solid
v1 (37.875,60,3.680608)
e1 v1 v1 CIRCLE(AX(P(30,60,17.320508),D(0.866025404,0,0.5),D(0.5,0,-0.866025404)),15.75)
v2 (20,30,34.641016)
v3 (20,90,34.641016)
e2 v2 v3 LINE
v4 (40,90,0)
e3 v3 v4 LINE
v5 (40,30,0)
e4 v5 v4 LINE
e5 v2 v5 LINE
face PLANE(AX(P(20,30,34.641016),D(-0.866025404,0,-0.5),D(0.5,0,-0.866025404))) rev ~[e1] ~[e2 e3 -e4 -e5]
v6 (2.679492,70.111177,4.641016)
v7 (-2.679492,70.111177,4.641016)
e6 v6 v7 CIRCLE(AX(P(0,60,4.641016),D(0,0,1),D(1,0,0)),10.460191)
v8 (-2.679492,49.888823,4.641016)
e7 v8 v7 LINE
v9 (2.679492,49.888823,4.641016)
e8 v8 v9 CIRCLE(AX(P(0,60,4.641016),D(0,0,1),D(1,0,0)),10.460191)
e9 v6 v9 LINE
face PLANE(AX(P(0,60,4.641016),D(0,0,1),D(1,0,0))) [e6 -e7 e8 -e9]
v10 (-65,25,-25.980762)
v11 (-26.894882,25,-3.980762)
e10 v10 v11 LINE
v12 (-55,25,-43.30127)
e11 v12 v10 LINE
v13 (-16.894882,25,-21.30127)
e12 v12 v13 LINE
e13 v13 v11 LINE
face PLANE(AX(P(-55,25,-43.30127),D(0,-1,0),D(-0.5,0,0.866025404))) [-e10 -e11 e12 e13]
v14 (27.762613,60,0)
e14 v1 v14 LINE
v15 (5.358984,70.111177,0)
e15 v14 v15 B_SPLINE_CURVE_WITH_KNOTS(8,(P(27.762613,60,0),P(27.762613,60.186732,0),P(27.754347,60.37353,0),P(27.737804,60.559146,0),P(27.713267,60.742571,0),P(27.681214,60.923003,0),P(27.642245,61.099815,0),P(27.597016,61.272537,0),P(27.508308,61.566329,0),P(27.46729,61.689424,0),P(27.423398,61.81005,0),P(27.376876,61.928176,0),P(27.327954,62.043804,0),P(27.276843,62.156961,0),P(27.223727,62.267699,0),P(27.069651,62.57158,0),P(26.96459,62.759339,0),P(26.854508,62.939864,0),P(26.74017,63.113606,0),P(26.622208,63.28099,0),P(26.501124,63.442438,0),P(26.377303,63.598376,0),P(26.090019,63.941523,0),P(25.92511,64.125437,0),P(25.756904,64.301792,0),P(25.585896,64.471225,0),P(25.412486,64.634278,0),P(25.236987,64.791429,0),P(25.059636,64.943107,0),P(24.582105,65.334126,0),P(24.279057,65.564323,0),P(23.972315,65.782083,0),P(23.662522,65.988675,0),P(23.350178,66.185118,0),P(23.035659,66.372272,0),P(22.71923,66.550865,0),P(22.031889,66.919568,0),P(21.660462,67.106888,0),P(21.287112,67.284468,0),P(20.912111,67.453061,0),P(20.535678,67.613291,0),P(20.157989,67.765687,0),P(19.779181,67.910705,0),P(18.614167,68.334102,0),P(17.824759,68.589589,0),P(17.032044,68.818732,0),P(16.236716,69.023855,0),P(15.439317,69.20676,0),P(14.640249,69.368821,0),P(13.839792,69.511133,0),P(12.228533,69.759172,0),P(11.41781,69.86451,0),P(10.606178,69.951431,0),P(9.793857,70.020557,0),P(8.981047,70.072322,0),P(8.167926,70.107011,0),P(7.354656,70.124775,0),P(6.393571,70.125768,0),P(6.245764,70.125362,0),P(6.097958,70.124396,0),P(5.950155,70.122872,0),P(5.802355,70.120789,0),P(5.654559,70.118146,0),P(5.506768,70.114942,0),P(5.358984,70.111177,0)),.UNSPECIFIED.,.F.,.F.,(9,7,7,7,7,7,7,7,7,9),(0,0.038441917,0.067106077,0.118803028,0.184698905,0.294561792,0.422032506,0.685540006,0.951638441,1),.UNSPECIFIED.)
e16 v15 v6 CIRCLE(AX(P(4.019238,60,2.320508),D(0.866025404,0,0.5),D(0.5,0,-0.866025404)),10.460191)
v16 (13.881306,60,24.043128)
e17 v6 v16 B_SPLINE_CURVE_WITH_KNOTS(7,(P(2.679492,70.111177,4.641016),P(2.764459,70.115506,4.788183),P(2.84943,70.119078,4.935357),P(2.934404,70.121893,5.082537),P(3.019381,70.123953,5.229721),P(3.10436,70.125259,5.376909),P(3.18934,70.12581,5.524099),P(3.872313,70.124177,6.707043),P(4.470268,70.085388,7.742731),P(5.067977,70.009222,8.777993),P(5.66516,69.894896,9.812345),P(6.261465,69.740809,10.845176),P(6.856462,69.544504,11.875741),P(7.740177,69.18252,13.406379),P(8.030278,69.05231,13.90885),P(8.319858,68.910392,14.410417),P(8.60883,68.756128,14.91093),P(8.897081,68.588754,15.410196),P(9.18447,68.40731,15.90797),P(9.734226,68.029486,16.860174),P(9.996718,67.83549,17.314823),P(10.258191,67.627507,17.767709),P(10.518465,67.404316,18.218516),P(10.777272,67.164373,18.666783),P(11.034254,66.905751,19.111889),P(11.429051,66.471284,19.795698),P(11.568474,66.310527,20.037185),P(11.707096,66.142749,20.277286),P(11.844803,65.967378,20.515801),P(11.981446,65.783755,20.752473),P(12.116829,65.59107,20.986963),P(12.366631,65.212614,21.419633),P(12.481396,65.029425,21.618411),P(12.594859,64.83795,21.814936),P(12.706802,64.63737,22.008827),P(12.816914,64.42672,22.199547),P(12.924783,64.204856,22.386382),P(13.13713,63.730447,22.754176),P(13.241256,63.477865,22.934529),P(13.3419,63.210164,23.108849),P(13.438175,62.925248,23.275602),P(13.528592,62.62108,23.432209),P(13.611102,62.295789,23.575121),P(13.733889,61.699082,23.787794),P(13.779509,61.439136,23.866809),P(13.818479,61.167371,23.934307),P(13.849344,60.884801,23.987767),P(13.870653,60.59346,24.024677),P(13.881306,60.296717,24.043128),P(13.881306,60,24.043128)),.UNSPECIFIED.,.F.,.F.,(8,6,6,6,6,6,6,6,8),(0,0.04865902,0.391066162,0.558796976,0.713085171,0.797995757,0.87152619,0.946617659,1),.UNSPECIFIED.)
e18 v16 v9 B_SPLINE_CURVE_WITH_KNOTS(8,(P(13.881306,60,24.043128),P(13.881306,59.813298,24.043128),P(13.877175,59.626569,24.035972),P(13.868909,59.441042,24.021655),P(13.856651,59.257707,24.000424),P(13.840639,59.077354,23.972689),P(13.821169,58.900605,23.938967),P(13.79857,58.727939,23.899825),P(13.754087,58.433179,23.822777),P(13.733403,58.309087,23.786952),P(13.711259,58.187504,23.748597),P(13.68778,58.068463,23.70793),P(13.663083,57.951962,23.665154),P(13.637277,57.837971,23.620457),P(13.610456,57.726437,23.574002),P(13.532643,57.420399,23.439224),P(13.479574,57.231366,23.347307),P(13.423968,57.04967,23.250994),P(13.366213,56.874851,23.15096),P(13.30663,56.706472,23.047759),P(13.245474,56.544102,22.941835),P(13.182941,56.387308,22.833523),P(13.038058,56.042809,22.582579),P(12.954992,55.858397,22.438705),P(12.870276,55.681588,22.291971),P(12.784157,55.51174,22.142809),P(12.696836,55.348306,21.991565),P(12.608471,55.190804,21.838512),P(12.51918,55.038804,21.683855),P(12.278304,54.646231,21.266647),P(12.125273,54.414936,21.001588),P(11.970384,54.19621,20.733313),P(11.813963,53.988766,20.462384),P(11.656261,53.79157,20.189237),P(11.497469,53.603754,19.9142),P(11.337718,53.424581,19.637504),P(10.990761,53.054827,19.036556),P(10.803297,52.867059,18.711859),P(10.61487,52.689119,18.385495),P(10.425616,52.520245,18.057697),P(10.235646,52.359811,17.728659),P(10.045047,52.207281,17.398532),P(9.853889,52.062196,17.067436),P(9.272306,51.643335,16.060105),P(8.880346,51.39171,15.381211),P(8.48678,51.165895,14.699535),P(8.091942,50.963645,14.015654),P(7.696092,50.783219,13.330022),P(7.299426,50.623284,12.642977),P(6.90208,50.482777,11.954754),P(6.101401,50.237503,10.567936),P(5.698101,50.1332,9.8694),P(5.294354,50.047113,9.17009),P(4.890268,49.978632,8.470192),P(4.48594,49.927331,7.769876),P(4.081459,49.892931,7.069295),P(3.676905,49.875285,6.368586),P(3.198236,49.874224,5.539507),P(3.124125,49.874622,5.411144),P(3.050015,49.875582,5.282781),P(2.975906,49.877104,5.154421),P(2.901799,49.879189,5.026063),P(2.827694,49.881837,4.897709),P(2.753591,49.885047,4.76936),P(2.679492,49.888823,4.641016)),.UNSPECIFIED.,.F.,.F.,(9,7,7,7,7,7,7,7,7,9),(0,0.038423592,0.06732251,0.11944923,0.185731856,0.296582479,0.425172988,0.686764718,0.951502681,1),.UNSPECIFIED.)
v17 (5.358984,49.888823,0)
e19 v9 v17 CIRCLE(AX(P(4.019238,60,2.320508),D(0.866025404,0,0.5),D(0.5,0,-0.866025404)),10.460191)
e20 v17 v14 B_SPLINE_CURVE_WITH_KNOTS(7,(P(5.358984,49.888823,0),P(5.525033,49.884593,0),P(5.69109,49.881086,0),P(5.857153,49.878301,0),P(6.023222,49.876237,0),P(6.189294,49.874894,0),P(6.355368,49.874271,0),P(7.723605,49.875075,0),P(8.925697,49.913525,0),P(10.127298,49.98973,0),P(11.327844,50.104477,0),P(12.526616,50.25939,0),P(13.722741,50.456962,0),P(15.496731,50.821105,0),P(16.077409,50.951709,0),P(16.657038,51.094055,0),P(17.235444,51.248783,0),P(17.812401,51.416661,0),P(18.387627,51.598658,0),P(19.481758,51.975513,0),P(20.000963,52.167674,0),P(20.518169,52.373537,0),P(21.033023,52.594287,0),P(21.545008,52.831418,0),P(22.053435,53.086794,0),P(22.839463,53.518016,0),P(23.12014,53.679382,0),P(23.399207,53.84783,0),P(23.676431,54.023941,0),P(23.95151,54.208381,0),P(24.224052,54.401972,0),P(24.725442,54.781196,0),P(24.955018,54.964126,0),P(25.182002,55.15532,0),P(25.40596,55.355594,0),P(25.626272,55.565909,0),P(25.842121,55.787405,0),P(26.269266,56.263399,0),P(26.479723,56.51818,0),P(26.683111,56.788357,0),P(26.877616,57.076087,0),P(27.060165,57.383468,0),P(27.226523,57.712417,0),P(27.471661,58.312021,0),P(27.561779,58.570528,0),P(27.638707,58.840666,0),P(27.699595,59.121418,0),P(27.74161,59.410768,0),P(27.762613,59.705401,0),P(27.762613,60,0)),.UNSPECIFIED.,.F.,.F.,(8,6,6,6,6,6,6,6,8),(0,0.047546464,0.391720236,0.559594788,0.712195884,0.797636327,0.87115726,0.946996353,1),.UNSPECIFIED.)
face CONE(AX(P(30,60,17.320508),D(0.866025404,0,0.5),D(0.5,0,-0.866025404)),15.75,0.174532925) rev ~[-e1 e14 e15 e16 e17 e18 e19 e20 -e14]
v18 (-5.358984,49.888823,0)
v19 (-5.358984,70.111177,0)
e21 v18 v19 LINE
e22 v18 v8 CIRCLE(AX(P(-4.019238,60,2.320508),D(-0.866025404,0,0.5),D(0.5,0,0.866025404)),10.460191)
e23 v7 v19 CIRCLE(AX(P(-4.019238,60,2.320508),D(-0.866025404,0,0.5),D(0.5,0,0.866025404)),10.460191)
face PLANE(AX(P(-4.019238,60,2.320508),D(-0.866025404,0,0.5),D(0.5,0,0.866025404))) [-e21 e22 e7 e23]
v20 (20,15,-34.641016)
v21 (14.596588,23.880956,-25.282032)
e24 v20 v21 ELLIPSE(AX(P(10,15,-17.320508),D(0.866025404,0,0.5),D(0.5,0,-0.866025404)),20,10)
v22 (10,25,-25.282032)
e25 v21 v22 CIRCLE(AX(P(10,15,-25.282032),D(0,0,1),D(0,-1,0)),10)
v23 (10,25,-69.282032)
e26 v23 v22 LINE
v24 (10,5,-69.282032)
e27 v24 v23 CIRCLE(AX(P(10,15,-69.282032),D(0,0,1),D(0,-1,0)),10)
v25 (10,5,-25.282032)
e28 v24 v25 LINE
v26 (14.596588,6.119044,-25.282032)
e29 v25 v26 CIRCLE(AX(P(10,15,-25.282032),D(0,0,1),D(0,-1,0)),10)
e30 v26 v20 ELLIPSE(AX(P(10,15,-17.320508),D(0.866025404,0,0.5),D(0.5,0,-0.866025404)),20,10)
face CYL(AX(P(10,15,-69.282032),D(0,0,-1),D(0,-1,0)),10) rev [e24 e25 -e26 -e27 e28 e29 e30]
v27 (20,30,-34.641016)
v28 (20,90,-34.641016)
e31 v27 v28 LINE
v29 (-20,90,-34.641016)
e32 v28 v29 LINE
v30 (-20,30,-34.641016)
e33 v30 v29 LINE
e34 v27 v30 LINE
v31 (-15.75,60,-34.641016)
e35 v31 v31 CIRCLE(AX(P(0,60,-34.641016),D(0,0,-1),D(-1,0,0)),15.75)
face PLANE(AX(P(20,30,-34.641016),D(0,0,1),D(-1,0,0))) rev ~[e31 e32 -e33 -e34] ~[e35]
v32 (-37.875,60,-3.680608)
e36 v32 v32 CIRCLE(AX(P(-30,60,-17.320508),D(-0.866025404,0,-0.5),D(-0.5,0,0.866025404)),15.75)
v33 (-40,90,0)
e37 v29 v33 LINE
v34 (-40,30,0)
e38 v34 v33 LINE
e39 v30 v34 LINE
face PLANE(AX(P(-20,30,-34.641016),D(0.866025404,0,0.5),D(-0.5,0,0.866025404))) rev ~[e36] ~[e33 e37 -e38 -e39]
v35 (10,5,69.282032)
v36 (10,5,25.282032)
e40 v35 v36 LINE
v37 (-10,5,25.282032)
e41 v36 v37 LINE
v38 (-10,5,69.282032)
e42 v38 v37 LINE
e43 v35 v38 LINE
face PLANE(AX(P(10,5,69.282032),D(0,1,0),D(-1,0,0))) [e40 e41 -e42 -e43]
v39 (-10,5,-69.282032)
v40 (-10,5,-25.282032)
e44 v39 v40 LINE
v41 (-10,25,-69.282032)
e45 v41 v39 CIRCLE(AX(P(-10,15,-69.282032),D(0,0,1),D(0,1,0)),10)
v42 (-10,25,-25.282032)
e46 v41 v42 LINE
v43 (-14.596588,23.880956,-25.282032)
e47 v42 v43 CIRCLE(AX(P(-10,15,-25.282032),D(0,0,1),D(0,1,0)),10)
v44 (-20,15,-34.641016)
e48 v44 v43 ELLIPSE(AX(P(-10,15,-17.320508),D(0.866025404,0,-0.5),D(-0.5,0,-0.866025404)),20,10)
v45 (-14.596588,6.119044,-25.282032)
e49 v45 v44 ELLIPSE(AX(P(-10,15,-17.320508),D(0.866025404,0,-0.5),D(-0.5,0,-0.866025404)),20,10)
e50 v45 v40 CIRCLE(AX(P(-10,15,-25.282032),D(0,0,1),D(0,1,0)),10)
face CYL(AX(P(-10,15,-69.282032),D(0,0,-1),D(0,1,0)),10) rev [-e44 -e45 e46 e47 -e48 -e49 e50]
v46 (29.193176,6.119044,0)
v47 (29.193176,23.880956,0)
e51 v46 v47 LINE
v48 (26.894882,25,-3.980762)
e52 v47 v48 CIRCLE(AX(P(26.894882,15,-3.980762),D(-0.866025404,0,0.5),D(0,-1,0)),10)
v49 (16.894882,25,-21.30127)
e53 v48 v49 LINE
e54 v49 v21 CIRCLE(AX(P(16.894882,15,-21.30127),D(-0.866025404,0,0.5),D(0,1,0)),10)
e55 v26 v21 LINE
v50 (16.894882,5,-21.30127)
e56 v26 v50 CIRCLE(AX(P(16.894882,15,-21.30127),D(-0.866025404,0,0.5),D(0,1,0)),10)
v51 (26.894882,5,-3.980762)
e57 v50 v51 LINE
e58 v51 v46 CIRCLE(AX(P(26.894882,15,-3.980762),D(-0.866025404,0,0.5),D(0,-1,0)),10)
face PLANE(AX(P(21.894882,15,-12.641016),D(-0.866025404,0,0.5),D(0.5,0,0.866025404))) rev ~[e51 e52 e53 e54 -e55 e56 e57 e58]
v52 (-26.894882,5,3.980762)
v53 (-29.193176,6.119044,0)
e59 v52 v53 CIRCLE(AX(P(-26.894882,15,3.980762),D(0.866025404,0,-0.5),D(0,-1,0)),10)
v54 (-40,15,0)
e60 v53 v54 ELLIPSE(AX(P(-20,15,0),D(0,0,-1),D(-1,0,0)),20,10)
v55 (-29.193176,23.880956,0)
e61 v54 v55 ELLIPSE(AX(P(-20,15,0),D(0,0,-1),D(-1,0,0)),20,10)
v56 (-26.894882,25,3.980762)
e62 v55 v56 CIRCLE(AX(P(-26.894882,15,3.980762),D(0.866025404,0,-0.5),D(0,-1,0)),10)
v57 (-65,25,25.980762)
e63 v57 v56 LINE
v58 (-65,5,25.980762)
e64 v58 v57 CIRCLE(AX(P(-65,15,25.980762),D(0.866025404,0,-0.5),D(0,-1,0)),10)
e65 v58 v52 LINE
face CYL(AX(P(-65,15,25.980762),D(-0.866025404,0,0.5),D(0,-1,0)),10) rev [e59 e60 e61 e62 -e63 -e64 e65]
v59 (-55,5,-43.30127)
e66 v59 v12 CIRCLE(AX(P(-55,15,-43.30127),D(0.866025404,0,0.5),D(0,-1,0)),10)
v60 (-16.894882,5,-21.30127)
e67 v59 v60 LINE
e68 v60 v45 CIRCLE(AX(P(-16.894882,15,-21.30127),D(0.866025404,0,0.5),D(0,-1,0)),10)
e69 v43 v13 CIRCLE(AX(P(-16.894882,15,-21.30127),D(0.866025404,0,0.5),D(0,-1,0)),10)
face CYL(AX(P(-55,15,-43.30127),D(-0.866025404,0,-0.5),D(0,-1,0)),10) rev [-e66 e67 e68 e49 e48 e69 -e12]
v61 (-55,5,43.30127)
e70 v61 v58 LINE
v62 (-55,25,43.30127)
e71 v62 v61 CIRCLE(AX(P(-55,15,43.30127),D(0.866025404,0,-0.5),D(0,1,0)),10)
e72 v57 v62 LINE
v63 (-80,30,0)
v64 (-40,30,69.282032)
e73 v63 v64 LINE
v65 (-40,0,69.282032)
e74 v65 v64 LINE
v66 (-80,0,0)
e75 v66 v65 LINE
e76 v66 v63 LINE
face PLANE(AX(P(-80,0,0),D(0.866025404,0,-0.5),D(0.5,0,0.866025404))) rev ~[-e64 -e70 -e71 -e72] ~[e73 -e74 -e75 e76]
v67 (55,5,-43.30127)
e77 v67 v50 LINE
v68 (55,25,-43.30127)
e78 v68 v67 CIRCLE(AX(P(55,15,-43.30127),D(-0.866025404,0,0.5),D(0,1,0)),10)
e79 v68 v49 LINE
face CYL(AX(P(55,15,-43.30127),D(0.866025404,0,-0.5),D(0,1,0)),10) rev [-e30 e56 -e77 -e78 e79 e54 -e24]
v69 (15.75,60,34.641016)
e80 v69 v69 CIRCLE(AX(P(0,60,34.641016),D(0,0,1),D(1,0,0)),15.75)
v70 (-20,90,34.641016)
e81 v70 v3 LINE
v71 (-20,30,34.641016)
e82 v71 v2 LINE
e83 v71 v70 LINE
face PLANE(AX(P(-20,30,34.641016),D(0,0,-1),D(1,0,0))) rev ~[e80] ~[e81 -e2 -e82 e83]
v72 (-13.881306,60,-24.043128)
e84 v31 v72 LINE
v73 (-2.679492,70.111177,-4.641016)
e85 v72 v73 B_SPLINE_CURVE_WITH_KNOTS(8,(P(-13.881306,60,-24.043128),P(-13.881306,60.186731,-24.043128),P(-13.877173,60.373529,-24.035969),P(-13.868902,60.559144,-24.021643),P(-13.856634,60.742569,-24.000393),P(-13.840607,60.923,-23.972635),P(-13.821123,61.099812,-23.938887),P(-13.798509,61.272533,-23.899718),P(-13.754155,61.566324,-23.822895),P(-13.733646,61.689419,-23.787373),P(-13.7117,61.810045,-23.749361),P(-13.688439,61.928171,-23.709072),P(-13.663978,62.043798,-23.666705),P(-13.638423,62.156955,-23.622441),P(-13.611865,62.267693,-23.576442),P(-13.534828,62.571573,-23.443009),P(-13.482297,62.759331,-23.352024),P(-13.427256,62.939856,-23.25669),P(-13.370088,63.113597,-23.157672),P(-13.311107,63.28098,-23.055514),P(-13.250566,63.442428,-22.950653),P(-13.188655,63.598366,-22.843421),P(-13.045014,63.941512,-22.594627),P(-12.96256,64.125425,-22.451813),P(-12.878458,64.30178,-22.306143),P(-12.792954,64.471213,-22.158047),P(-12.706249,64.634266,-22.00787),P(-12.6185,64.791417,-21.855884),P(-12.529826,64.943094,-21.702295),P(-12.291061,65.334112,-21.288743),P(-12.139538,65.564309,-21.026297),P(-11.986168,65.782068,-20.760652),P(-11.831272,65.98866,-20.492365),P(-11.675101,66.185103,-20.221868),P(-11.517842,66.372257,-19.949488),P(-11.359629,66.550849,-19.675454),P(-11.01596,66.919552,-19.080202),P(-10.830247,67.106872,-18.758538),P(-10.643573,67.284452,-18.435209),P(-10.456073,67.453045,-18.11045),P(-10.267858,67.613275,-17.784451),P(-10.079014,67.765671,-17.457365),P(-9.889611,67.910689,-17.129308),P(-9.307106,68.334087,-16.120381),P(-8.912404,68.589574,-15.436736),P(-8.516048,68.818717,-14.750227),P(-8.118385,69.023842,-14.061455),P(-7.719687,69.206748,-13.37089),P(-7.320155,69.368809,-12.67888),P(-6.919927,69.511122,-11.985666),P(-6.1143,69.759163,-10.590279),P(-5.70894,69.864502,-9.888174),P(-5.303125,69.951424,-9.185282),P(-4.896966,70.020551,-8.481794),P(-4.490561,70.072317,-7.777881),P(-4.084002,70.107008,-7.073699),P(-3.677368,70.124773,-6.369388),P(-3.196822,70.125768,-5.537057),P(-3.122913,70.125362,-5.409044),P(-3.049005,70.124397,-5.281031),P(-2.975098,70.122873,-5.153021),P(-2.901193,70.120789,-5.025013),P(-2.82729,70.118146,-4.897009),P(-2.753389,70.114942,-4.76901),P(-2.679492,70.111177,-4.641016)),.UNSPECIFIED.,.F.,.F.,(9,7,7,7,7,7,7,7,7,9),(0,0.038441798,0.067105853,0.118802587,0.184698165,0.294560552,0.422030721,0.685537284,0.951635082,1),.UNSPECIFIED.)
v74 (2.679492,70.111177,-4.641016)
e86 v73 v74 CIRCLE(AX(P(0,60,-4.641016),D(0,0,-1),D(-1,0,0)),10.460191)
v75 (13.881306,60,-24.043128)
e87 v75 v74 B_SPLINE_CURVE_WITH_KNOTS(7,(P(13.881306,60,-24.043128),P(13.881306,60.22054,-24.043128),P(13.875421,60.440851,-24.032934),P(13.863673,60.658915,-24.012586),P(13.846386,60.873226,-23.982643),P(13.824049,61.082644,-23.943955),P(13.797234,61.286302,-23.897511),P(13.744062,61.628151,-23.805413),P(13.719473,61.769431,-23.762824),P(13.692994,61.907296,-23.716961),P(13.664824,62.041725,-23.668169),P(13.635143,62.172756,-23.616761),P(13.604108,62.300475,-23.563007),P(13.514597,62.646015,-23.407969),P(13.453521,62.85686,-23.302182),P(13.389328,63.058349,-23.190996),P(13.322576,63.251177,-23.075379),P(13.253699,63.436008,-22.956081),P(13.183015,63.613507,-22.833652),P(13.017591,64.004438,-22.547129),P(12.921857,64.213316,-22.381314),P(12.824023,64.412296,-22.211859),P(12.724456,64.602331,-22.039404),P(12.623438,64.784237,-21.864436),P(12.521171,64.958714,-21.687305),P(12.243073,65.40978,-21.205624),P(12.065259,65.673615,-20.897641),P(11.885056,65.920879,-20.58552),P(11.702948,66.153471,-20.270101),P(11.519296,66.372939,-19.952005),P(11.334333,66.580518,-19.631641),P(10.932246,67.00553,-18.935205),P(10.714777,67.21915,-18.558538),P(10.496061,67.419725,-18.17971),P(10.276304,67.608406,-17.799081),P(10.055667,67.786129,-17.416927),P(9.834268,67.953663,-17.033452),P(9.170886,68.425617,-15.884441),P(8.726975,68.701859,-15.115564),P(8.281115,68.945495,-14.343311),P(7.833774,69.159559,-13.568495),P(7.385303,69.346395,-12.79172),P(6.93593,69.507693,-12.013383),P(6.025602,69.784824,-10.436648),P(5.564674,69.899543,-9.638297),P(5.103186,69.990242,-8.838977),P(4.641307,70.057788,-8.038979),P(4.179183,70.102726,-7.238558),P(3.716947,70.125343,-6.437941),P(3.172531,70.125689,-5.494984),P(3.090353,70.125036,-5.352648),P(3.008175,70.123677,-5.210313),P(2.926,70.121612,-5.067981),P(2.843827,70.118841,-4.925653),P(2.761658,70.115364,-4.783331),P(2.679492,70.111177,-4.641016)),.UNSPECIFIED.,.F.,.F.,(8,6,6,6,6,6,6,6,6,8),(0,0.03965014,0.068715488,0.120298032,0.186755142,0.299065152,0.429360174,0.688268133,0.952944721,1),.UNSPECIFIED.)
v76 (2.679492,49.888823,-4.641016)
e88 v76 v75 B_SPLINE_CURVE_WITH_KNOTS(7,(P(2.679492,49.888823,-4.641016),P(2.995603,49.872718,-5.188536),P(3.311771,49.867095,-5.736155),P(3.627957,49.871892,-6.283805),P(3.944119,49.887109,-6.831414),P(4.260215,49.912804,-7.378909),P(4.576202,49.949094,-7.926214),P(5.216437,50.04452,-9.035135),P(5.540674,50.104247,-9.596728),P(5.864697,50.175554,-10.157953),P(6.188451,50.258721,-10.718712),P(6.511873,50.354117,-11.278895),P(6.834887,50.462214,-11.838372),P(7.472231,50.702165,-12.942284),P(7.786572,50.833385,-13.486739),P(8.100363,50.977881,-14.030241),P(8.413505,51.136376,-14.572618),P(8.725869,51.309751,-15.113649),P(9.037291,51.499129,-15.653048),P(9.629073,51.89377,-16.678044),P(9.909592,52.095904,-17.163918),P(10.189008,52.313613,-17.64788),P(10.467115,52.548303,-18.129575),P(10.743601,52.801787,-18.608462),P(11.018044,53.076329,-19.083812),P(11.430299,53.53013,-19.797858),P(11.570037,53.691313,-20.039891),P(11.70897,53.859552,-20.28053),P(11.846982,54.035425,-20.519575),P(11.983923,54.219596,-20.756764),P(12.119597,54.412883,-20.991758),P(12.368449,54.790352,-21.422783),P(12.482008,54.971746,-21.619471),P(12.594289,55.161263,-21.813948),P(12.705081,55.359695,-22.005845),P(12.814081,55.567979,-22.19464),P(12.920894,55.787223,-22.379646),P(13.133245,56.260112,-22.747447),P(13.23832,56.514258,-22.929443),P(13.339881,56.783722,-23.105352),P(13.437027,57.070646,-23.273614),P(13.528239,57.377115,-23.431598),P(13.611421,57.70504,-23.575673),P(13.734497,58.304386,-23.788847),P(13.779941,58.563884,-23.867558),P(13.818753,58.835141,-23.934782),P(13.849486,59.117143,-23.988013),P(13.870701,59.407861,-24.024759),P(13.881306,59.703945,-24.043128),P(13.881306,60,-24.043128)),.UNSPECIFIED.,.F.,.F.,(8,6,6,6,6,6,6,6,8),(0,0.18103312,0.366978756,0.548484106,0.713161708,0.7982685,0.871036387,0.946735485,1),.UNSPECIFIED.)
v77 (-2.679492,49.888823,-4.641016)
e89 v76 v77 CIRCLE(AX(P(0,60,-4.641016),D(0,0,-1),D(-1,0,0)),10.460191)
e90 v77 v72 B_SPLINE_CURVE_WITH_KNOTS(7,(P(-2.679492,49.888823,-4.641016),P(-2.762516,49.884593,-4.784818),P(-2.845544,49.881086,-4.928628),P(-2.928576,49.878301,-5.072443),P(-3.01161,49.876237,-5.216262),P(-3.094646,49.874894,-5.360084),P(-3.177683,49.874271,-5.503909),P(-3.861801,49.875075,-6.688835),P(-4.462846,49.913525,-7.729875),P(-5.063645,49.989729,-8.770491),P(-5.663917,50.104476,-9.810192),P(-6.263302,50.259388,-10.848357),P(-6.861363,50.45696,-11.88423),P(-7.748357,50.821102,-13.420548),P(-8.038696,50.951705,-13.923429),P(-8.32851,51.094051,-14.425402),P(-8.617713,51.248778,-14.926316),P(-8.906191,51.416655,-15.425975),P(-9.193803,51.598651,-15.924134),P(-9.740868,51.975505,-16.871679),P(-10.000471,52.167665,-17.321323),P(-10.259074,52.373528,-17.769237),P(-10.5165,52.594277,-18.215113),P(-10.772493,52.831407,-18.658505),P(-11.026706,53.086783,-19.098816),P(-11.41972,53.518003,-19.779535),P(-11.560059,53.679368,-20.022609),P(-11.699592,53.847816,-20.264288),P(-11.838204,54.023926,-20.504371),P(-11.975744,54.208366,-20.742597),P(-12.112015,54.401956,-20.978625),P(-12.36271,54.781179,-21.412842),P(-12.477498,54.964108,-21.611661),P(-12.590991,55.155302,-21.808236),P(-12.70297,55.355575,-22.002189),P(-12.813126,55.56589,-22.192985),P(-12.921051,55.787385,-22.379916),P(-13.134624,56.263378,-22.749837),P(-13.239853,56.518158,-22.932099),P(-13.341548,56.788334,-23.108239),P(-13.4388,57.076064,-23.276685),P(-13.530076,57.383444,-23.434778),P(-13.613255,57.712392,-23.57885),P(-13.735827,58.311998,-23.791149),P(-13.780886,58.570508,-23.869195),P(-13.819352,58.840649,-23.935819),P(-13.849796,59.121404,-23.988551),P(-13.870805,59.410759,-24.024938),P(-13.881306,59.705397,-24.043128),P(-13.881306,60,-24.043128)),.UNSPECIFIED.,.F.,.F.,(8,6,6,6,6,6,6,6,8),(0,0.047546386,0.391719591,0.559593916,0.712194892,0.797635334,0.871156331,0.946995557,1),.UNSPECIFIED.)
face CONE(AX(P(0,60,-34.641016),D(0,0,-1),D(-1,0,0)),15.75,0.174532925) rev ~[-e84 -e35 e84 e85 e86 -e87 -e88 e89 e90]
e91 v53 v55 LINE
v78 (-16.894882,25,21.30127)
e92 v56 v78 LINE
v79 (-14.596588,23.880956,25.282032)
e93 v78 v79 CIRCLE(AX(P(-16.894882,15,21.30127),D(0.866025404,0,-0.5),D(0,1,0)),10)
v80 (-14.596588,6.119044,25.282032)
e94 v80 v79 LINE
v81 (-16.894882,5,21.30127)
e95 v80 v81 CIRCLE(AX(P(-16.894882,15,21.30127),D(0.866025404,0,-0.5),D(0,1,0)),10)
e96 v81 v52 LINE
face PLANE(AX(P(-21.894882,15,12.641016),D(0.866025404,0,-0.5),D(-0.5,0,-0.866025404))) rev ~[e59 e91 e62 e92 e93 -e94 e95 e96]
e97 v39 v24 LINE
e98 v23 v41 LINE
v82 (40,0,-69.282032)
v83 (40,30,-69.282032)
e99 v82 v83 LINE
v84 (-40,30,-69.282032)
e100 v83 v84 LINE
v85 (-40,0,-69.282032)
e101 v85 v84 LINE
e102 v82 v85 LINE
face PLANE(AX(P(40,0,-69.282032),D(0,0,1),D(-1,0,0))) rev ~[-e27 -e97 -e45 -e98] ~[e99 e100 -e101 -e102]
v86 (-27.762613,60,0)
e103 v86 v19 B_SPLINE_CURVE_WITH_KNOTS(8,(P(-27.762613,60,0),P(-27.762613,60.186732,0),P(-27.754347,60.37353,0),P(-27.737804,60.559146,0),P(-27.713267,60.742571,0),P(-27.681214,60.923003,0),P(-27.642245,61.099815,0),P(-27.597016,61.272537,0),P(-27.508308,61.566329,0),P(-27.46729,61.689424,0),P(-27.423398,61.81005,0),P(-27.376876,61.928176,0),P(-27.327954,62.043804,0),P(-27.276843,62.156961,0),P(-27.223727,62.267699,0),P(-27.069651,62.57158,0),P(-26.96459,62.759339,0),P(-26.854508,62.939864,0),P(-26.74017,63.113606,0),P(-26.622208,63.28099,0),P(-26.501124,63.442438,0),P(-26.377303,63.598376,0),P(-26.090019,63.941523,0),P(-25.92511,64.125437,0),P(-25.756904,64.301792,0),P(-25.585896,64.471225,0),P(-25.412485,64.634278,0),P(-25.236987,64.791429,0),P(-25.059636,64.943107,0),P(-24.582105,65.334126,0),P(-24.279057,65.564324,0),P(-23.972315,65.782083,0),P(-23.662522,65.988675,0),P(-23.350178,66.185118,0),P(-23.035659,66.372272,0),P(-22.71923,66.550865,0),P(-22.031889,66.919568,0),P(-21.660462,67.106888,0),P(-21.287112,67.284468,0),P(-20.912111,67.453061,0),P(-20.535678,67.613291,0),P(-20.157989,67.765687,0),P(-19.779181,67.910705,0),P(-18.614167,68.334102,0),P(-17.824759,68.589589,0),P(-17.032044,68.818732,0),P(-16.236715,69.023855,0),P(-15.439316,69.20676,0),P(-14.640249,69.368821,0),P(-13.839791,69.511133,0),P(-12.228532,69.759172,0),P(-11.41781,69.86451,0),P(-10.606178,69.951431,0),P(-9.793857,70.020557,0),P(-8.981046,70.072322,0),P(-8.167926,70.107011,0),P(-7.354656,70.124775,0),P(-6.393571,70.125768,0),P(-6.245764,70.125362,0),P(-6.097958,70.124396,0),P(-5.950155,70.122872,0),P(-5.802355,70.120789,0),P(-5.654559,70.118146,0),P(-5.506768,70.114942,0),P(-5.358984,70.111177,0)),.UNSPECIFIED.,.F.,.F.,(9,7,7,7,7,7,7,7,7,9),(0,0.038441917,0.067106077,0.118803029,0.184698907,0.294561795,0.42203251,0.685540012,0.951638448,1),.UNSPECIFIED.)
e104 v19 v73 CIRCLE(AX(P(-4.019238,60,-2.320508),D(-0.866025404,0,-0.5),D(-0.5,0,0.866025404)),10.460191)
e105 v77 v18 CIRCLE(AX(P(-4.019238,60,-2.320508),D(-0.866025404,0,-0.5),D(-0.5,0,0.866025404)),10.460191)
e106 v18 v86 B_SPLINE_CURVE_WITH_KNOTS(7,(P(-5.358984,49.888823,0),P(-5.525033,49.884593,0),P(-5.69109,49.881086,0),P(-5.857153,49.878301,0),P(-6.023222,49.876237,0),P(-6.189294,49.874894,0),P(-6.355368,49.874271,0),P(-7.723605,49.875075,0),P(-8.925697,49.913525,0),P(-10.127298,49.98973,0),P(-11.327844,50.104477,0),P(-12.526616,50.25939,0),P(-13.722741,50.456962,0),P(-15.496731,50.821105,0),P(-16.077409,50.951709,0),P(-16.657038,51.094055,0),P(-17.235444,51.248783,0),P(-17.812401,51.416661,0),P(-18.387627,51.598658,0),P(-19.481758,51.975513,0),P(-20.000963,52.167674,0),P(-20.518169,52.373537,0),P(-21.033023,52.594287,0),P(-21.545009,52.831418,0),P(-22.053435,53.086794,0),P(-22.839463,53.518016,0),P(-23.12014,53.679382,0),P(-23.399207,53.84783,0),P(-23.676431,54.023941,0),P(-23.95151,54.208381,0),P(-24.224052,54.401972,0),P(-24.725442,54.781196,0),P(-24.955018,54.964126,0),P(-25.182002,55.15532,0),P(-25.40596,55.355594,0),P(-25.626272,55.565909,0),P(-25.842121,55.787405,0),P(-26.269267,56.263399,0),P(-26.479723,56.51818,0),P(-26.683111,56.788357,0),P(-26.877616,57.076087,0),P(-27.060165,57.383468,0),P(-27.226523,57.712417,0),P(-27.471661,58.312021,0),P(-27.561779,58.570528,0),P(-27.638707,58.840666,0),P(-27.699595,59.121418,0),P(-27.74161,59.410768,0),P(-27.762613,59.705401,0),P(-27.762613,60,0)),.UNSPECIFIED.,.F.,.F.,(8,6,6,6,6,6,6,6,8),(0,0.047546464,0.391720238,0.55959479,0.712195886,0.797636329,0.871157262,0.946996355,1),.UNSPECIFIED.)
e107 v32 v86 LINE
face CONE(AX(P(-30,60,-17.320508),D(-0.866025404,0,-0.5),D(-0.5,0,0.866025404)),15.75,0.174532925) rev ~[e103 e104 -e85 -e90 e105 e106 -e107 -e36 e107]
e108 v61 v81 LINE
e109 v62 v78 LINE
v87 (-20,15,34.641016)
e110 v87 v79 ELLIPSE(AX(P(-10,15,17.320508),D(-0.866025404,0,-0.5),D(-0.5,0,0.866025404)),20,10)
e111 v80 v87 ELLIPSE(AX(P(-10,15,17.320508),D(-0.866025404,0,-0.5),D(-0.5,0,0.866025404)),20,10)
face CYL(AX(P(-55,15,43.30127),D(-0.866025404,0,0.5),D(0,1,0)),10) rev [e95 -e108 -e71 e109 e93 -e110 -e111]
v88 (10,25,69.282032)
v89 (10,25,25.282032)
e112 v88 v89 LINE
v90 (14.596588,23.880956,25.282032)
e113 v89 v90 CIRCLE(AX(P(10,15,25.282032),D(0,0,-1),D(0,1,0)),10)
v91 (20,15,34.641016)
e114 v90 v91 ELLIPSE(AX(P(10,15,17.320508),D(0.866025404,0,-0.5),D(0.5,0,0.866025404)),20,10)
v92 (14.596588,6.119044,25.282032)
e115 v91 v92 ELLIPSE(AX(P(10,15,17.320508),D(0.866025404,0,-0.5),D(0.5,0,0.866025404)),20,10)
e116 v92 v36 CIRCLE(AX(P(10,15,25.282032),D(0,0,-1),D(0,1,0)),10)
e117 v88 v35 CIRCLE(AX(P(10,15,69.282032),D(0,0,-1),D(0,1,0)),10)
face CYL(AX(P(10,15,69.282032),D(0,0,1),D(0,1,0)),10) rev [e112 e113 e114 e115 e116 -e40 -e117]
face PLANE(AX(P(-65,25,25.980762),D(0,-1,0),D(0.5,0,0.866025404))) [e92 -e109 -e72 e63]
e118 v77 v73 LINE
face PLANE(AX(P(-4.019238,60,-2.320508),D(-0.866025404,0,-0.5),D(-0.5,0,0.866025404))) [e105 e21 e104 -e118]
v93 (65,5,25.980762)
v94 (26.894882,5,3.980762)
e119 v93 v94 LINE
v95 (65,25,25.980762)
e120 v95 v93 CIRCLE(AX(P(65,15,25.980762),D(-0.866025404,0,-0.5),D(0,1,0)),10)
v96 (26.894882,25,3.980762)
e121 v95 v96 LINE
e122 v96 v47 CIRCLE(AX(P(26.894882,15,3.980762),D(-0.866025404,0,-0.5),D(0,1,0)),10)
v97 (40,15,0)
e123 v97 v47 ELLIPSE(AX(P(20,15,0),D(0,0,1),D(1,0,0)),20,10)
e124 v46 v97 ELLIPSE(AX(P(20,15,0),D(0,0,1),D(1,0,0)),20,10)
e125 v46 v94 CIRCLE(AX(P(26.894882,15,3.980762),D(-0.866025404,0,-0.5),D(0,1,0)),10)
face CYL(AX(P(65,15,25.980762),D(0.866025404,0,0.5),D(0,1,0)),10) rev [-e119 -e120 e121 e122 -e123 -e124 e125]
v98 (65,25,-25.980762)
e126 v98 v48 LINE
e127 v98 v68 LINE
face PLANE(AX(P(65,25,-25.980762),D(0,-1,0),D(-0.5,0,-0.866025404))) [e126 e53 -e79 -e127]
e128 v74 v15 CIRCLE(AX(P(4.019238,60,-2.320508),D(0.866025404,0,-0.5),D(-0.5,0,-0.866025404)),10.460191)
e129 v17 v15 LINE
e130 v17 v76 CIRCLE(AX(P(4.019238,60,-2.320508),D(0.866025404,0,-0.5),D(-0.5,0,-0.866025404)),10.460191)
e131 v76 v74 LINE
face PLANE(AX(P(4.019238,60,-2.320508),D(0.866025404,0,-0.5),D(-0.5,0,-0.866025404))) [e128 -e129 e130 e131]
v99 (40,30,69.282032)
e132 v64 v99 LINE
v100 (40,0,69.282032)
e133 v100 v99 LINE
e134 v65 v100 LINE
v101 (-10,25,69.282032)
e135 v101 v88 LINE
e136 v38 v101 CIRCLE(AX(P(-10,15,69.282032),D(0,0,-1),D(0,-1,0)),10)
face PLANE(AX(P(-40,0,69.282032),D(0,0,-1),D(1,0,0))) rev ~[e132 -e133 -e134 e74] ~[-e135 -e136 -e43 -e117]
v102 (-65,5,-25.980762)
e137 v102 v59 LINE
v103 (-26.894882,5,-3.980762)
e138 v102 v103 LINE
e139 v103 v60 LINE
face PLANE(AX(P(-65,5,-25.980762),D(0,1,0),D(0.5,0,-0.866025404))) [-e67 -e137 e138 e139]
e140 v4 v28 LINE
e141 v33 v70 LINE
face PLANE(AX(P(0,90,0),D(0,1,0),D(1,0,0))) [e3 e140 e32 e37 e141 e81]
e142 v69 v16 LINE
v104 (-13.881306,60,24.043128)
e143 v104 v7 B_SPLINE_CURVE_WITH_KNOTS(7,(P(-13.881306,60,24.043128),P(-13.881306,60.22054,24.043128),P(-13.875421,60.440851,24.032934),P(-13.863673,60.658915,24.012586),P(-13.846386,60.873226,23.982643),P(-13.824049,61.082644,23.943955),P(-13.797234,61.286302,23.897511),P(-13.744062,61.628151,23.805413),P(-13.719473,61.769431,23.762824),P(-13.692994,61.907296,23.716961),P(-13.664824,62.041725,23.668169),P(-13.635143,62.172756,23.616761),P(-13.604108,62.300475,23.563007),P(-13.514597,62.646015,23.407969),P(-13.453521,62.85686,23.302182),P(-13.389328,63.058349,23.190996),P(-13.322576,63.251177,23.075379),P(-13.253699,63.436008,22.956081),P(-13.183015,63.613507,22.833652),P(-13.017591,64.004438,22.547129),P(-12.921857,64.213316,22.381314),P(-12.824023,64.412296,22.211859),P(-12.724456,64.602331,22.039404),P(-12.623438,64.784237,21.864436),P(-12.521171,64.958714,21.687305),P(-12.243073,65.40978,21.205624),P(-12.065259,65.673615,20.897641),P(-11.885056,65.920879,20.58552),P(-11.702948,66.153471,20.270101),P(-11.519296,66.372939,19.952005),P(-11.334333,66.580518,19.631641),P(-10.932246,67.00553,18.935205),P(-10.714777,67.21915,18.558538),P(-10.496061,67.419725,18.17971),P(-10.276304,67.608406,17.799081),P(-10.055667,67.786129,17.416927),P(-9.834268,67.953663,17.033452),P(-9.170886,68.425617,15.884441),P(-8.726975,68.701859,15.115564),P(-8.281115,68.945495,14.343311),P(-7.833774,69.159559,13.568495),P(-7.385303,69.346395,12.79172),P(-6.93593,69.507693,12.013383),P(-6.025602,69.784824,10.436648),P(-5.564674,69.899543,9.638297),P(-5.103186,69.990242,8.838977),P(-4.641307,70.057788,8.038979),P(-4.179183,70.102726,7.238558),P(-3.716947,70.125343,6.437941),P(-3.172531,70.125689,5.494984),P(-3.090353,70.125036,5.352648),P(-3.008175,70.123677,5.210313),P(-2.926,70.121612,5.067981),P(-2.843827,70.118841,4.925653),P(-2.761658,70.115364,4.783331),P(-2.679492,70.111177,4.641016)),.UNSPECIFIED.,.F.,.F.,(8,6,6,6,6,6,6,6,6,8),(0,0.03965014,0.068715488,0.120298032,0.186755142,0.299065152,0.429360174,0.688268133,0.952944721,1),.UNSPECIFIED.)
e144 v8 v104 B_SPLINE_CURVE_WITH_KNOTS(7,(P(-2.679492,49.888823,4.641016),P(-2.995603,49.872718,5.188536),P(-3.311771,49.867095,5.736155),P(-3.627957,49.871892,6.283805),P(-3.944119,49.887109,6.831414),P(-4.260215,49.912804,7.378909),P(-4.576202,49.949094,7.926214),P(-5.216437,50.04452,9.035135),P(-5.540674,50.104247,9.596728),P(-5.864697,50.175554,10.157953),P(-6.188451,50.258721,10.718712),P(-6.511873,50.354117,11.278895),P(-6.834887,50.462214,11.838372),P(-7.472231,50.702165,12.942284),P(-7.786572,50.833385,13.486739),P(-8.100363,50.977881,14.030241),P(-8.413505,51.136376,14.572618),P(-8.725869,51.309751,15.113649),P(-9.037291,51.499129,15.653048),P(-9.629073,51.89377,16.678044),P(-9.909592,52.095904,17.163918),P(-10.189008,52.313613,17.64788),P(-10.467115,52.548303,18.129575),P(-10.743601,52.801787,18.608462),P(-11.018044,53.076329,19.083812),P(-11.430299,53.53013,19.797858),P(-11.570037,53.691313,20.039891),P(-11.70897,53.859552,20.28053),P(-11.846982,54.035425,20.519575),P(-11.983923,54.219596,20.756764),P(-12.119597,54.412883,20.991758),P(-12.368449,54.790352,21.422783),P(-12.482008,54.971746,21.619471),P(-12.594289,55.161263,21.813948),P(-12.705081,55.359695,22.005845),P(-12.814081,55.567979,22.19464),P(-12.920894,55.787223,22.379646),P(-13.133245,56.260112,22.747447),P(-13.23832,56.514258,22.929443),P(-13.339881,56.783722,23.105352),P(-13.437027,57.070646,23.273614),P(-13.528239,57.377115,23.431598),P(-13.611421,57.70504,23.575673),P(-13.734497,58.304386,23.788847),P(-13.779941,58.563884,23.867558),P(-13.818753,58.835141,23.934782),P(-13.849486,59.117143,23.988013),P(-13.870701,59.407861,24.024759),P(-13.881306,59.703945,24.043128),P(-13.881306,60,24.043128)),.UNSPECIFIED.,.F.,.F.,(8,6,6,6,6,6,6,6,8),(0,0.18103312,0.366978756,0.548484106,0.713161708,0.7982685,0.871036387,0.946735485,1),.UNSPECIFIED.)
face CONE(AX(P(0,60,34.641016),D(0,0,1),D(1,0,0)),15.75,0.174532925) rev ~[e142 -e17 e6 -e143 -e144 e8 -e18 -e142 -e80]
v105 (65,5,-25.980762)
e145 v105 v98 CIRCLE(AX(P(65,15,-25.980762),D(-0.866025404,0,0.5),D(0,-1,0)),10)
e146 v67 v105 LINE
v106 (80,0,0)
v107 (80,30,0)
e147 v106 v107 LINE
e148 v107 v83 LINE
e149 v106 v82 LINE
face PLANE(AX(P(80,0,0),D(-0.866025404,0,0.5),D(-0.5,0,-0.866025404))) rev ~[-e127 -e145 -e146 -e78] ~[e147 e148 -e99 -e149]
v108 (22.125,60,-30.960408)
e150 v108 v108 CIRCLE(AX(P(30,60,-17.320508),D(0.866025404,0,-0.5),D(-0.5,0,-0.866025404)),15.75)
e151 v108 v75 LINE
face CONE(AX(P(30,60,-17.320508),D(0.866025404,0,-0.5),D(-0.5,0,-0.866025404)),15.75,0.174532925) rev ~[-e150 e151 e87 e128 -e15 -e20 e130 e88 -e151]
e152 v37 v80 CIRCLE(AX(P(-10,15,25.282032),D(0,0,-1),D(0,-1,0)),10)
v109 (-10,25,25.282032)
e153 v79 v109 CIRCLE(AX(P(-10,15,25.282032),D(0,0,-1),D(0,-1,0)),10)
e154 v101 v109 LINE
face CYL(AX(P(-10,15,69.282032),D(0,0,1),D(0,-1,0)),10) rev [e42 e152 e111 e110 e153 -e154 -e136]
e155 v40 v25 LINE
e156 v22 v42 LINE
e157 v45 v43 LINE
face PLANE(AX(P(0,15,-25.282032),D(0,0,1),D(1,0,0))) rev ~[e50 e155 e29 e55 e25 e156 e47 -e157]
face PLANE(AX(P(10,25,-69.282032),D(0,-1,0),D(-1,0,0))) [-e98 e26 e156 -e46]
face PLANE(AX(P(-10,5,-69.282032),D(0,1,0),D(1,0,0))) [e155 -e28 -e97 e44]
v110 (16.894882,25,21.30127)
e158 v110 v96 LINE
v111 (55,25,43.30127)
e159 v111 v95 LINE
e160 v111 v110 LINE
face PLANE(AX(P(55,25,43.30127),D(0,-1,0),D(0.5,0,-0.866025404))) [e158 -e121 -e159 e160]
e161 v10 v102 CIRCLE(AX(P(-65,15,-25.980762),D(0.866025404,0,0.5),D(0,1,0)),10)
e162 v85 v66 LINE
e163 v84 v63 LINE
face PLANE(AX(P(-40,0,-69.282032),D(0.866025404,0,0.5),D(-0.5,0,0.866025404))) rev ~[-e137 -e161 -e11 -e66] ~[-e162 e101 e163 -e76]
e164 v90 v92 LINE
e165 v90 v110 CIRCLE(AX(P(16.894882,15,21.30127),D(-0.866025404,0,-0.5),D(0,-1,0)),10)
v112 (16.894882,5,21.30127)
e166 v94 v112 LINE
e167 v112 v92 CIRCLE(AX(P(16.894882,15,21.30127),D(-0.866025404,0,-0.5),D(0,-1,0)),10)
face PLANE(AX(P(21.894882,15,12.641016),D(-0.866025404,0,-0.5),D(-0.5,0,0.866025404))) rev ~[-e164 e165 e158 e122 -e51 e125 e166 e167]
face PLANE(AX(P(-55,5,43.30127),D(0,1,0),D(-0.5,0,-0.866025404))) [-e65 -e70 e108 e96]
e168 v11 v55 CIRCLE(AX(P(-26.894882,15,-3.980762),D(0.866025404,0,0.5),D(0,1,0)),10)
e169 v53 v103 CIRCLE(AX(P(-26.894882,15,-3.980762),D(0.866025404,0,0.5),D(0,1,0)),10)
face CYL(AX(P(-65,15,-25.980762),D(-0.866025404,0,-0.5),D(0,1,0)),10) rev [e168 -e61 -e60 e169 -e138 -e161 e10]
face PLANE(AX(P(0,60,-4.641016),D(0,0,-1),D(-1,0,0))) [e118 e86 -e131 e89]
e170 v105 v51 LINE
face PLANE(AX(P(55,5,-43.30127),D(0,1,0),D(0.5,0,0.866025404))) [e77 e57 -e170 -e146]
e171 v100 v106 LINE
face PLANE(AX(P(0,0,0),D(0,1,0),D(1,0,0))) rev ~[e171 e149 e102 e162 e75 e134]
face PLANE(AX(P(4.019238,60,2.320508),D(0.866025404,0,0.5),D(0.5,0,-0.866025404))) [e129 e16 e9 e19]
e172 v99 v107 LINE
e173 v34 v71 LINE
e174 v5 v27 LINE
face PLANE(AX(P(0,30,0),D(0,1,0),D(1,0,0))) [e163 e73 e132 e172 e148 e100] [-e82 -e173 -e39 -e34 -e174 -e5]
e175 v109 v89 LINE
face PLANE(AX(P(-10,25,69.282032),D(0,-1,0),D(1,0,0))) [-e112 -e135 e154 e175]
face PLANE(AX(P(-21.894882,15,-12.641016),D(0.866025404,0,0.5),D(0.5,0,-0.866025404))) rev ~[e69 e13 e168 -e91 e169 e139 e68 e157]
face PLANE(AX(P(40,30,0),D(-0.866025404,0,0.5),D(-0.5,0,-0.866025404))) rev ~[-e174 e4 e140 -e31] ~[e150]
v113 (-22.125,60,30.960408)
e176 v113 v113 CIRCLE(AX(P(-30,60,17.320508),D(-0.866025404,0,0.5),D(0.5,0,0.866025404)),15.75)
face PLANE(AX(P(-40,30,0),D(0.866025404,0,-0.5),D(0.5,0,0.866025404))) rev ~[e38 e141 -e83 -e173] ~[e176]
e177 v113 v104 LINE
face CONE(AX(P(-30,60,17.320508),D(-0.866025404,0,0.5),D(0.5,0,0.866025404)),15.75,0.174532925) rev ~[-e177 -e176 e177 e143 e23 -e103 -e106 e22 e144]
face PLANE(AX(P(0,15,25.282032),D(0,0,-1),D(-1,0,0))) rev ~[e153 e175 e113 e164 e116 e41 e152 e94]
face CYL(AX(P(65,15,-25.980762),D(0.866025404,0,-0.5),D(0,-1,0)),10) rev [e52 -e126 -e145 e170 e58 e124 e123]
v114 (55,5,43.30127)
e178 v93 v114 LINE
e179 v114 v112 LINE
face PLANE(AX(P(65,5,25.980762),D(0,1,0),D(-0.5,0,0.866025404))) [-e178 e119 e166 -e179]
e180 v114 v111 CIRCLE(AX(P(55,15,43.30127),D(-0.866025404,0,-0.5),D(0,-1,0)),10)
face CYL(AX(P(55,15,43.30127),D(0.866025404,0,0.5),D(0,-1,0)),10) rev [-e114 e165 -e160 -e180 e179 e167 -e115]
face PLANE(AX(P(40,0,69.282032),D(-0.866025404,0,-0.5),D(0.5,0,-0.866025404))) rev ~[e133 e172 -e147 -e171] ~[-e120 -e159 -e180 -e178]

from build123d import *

# Parameters (mm, degrees)
BOSS_EXTRUDE1_DEPTH         = 30
BOSS_EXTRUDE3_DEPTH         = 60
SKETCH8_R                   = 15.75
CUT_EXTRUDE3_DEPTH          = 30
CUT_EXTRUDE3_DRAFT          = -10
CIRPATTERN4_COPY_1_SKETCH_R = 15.75
CIRPATTERN4_COPY_1_DEPTH    = 30
CIRPATTERN4_COPY_1_DRAFT    = -10
CIRPATTERN4_COPY_2_SKETCH_R = 15.75
CIRPATTERN4_COPY_2_DEPTH    = 30
CIRPATTERN4_COPY_2_DRAFT    = -10
CIRPATTERN4_COPY_3_SKETCH_R = 15.75
CIRPATTERN4_COPY_3_DEPTH    = 30
CIRPATTERN4_COPY_3_DRAFT    = -10
CIRPATTERN4_COPY_4_SKETCH_R = 15.75
CIRPATTERN4_COPY_4_DEPTH    = 30
CIRPATTERN4_COPY_4_DRAFT    = -10
CIRPATTERN4_COPY_5_SKETCH_R = 15.75
CIRPATTERN4_COPY_5_DEPTH    = 30
CIRPATTERN4_COPY_5_DRAFT    = -10
CUT_EXTRUDE4_DEPTH          = 44
CIRPATTERN6_COUNT           = 6


with BuildPart() as part:
    # Sketch1 → Boss-Extrude1 (new body)
    with BuildSketch(Plane(origin=(0, 0, 0), x_dir=(1, 0, 0), z_dir=(0, 1, 0))):
        Polygon((40, -69.282032303), (80, 0), (40, 69.282032303), (-40, 69.282032303), (-80, 0), (-40, -69.282032303), align=None)
    extrude(amount=BOSS_EXTRUDE1_DEPTH)

    # Sketch2 → Boss-Extrude3 (add)
    with BuildSketch(Plane(origin=(0, 30, 0), x_dir=(1, 0, 0), z_dir=(0, 1, 0))):
        Polygon((20, -34.641016151), (40, 0), (20, 34.641016151), (-20, 34.641016151), (-40, 0), (-20, -34.641016151), align=None)
    extrude(amount=BOSS_EXTRUDE3_DEPTH)


with BuildPart() as cut_extrude3_tool:
    # Sketch8 → Cut-Extrude3 (with draft: the straight prism first)
    with BuildSketch(Plane(origin=(30, 0, 17.320508076), x_dir=(0.5000000000000001, 0, -0.8660254037844386), z_dir=(0.8660254037844386, 0, 0.5000000000000001))):
        with Locations((0, 60)):
            Circle(SKETCH8_R)
    extrude(amount=-CUT_EXTRUDE3_DEPTH)
    # Cut-Extrude3: the draft: its side faces are tilted about the plane it starts from
    cut_extrude3_sides = [cut_extrude3_tool.faces().sort_by_distance(p)[0] for p in [
        (9.134618943, 60, 23.460408185),
    ]]
    draft(cut_extrude3_sides, Plane(origin=(30, 0, 17.320508076), x_dir=(0.5000000000000001, 0, -0.8660254037844386), z_dir=(0.8660254037844386, 0, 0.5000000000000001)), CUT_EXTRUDE3_DRAFT)


with BuildPart() as part_1:
    add(part.part)

    # Cut-Extrude3: cut by cut_extrude3_tool
    add(cut_extrude3_tool.part, mode=Mode.SUBTRACT)


with BuildPart() as cirpattern4_copy_1_tool:
    # CirPattern4 copy 1 sketch → CirPattern4 copy 1 (with draft: the straight prism first)
    with BuildSketch(Plane(origin=(30, 0, -17.320508076), x_dir=(-0.4999999999999998, 0, -0.8660254037844388), z_dir=(0.8660254037844388, 0, -0.4999999999999998))):
        with Locations((0, 60)):
            Circle(CIRPATTERN4_COPY_1_SKETCH_R)
    extrude(amount=-CIRPATTERN4_COPY_1_DEPTH)
    # CirPattern4 copy 1: the draft: its side faces are tilted about the plane it starts from
    cirpattern4_copy_1_sides = [cirpattern4_copy_1_tool.faces().sort_by_distance(p)[0] for p in [
        (24.884618943, 60, 3.819392034),
    ]]
    draft(cirpattern4_copy_1_sides, Plane(origin=(30, 0, -17.320508076), x_dir=(-0.4999999999999998, 0, -0.8660254037844388), z_dir=(0.8660254037844388, 0, -0.4999999999999998)), CIRPATTERN4_COPY_1_DRAFT)


with BuildPart() as part_2:
    add(part_1.part)

    # CirPattern4 copy 1: cut by cirpattern4_copy_1_tool
    add(cirpattern4_copy_1_tool.part, mode=Mode.SUBTRACT)


with BuildPart() as cirpattern4_copy_2_tool:
    # CirPattern4 copy 2 sketch → CirPattern4 copy 2 (with draft: the straight prism first)
    with BuildSketch(Plane(origin=(0, 0, -34.641016151), x_dir=(-1, 0, 0), z_dir=(0, 0, -1))):
        with Locations((0, 60)):
            Circle(CIRPATTERN4_COPY_2_SKETCH_R)
    extrude(amount=-CIRPATTERN4_COPY_2_DEPTH)
    # CirPattern4 copy 2: the draft: its side faces are tilted about the plane it starts from
    cirpattern4_copy_2_sides = [cirpattern4_copy_2_tool.faces().sort_by_distance(p)[0] for p in [
        (15.75, 60, -19.641016151),
    ]]
    draft(cirpattern4_copy_2_sides, Plane(origin=(0, 0, -34.641016151), x_dir=(-1, 0, 0), z_dir=(0, 0, -1)), CIRPATTERN4_COPY_2_DRAFT)


with BuildPart() as part_3:
    add(part_2.part)

    # CirPattern4 copy 2: cut by cirpattern4_copy_2_tool
    add(cirpattern4_copy_2_tool.part, mode=Mode.SUBTRACT)


with BuildPart() as cirpattern4_copy_3_tool:
    # CirPattern4 copy 3 sketch → CirPattern4 copy 3 (with draft: the straight prism first)
    with BuildSketch(Plane(origin=(-30, 0, -17.320508076), x_dir=(-0.5000000000000002, 0, 0.8660254037844385), z_dir=(-0.8660254037844385, 0, -0.5000000000000002))):
        with Locations((0, 60)):
            Circle(CIRPATTERN4_COPY_3_SKETCH_R)
    extrude(amount=-CIRPATTERN4_COPY_3_DEPTH)
    # CirPattern4 copy 3: the draft: its side faces are tilted about the plane it starts from
    cirpattern4_copy_3_sides = [cirpattern4_copy_3_tool.faces().sort_by_distance(p)[0] for p in [
        (-9.134618943, 60, -23.460408185),
    ]]
    draft(cirpattern4_copy_3_sides, Plane(origin=(-30, 0, -17.320508076), x_dir=(-0.5000000000000002, 0, 0.8660254037844385), z_dir=(-0.8660254037844385, 0, -0.5000000000000002)), CIRPATTERN4_COPY_3_DRAFT)


with BuildPart() as part_4:
    add(part_3.part)

    # CirPattern4 copy 3: cut by cirpattern4_copy_3_tool
    add(cirpattern4_copy_3_tool.part, mode=Mode.SUBTRACT)


with BuildPart() as cirpattern4_copy_4_tool:
    # CirPattern4 copy 4 sketch → CirPattern4 copy 4 (with draft: the straight prism first)
    with BuildSketch(Plane(origin=(-30, 0, 17.320508076), x_dir=(0.4999999999999994, 0, 0.866025403784439), z_dir=(-0.866025403784439, 0, 0.4999999999999994))):
        with Locations((0, 60)):
            Circle(CIRPATTERN4_COPY_4_SKETCH_R)
    extrude(amount=-CIRPATTERN4_COPY_4_DEPTH)
    # CirPattern4 copy 4: the draft: its side faces are tilted about the plane it starts from
    cirpattern4_copy_4_sides = [cirpattern4_copy_4_tool.faces().sort_by_distance(p)[0] for p in [
        (-24.884618943, 60, -3.819392034),
    ]]
    draft(cirpattern4_copy_4_sides, Plane(origin=(-30, 0, 17.320508076), x_dir=(0.4999999999999994, 0, 0.866025403784439), z_dir=(-0.866025403784439, 0, 0.4999999999999994)), CIRPATTERN4_COPY_4_DRAFT)


with BuildPart() as part_5:
    add(part_4.part)

    # CirPattern4 copy 4: cut by cirpattern4_copy_4_tool
    add(cirpattern4_copy_4_tool.part, mode=Mode.SUBTRACT)


with BuildPart() as cirpattern4_copy_5_tool:
    # CirPattern4 copy 5 sketch → CirPattern4 copy 5 (with draft: the straight prism first)
    with BuildSketch(Plane.XY.offset(34.641016151)):
        with Locations((0, 60)):
            Circle(CIRPATTERN4_COPY_5_SKETCH_R)
    extrude(amount=-CIRPATTERN4_COPY_5_DEPTH)
    # CirPattern4 copy 5: the draft: its side faces are tilted about the plane it starts from
    cirpattern4_copy_5_sides = [cirpattern4_copy_5_tool.faces().sort_by_distance(p)[0] for p in [
        (-15.75, 60, 19.641016151),
    ]]
    draft(cirpattern4_copy_5_sides, Plane.XY.offset(34.641016151), CIRPATTERN4_COPY_5_DRAFT)


with BuildPart() as part_6:
    add(part_5.part)

    # CirPattern4 copy 5: cut by cirpattern4_copy_5_tool
    add(cirpattern4_copy_5_tool.part, mode=Mode.SUBTRACT)

    # Sketch3 → Cut-Extrude4 (cut)
    with BuildSketch(Plane(origin=(60, 0, 34.641016151), x_dir=(0.5000000000000001, 0, -0.8660254037844386), z_dir=(0.8660254037844386, 0, 0.5000000000000001))):
        with BuildLine():
            Line((-10, 25), (10, 25))
            ThreePointArc((10, 25), (20, 15), (10, 5))
            Line((10, 5), (-10, 5))
            ThreePointArc((-10, 5), (-20, 15), (-10, 25))
        make_face()
    cut_extrude4 = extrude(amount=-CUT_EXTRUDE4_DEPTH, mode=Mode.SUBTRACT)

    # CirPattern6: Cut-Extrude4 ×6 about axis
    cirpattern6_axis = Axis((0, -4.5, 0), (0, 1, 0))
    for i in range(1, CIRPATTERN6_COUNT):
        add(cut_extrude4.rotate(cirpattern6_axis, i * 360 / CIRPATTERN6_COUNT), mode=Mode.SUBTRACT)


solid = part_6.part
